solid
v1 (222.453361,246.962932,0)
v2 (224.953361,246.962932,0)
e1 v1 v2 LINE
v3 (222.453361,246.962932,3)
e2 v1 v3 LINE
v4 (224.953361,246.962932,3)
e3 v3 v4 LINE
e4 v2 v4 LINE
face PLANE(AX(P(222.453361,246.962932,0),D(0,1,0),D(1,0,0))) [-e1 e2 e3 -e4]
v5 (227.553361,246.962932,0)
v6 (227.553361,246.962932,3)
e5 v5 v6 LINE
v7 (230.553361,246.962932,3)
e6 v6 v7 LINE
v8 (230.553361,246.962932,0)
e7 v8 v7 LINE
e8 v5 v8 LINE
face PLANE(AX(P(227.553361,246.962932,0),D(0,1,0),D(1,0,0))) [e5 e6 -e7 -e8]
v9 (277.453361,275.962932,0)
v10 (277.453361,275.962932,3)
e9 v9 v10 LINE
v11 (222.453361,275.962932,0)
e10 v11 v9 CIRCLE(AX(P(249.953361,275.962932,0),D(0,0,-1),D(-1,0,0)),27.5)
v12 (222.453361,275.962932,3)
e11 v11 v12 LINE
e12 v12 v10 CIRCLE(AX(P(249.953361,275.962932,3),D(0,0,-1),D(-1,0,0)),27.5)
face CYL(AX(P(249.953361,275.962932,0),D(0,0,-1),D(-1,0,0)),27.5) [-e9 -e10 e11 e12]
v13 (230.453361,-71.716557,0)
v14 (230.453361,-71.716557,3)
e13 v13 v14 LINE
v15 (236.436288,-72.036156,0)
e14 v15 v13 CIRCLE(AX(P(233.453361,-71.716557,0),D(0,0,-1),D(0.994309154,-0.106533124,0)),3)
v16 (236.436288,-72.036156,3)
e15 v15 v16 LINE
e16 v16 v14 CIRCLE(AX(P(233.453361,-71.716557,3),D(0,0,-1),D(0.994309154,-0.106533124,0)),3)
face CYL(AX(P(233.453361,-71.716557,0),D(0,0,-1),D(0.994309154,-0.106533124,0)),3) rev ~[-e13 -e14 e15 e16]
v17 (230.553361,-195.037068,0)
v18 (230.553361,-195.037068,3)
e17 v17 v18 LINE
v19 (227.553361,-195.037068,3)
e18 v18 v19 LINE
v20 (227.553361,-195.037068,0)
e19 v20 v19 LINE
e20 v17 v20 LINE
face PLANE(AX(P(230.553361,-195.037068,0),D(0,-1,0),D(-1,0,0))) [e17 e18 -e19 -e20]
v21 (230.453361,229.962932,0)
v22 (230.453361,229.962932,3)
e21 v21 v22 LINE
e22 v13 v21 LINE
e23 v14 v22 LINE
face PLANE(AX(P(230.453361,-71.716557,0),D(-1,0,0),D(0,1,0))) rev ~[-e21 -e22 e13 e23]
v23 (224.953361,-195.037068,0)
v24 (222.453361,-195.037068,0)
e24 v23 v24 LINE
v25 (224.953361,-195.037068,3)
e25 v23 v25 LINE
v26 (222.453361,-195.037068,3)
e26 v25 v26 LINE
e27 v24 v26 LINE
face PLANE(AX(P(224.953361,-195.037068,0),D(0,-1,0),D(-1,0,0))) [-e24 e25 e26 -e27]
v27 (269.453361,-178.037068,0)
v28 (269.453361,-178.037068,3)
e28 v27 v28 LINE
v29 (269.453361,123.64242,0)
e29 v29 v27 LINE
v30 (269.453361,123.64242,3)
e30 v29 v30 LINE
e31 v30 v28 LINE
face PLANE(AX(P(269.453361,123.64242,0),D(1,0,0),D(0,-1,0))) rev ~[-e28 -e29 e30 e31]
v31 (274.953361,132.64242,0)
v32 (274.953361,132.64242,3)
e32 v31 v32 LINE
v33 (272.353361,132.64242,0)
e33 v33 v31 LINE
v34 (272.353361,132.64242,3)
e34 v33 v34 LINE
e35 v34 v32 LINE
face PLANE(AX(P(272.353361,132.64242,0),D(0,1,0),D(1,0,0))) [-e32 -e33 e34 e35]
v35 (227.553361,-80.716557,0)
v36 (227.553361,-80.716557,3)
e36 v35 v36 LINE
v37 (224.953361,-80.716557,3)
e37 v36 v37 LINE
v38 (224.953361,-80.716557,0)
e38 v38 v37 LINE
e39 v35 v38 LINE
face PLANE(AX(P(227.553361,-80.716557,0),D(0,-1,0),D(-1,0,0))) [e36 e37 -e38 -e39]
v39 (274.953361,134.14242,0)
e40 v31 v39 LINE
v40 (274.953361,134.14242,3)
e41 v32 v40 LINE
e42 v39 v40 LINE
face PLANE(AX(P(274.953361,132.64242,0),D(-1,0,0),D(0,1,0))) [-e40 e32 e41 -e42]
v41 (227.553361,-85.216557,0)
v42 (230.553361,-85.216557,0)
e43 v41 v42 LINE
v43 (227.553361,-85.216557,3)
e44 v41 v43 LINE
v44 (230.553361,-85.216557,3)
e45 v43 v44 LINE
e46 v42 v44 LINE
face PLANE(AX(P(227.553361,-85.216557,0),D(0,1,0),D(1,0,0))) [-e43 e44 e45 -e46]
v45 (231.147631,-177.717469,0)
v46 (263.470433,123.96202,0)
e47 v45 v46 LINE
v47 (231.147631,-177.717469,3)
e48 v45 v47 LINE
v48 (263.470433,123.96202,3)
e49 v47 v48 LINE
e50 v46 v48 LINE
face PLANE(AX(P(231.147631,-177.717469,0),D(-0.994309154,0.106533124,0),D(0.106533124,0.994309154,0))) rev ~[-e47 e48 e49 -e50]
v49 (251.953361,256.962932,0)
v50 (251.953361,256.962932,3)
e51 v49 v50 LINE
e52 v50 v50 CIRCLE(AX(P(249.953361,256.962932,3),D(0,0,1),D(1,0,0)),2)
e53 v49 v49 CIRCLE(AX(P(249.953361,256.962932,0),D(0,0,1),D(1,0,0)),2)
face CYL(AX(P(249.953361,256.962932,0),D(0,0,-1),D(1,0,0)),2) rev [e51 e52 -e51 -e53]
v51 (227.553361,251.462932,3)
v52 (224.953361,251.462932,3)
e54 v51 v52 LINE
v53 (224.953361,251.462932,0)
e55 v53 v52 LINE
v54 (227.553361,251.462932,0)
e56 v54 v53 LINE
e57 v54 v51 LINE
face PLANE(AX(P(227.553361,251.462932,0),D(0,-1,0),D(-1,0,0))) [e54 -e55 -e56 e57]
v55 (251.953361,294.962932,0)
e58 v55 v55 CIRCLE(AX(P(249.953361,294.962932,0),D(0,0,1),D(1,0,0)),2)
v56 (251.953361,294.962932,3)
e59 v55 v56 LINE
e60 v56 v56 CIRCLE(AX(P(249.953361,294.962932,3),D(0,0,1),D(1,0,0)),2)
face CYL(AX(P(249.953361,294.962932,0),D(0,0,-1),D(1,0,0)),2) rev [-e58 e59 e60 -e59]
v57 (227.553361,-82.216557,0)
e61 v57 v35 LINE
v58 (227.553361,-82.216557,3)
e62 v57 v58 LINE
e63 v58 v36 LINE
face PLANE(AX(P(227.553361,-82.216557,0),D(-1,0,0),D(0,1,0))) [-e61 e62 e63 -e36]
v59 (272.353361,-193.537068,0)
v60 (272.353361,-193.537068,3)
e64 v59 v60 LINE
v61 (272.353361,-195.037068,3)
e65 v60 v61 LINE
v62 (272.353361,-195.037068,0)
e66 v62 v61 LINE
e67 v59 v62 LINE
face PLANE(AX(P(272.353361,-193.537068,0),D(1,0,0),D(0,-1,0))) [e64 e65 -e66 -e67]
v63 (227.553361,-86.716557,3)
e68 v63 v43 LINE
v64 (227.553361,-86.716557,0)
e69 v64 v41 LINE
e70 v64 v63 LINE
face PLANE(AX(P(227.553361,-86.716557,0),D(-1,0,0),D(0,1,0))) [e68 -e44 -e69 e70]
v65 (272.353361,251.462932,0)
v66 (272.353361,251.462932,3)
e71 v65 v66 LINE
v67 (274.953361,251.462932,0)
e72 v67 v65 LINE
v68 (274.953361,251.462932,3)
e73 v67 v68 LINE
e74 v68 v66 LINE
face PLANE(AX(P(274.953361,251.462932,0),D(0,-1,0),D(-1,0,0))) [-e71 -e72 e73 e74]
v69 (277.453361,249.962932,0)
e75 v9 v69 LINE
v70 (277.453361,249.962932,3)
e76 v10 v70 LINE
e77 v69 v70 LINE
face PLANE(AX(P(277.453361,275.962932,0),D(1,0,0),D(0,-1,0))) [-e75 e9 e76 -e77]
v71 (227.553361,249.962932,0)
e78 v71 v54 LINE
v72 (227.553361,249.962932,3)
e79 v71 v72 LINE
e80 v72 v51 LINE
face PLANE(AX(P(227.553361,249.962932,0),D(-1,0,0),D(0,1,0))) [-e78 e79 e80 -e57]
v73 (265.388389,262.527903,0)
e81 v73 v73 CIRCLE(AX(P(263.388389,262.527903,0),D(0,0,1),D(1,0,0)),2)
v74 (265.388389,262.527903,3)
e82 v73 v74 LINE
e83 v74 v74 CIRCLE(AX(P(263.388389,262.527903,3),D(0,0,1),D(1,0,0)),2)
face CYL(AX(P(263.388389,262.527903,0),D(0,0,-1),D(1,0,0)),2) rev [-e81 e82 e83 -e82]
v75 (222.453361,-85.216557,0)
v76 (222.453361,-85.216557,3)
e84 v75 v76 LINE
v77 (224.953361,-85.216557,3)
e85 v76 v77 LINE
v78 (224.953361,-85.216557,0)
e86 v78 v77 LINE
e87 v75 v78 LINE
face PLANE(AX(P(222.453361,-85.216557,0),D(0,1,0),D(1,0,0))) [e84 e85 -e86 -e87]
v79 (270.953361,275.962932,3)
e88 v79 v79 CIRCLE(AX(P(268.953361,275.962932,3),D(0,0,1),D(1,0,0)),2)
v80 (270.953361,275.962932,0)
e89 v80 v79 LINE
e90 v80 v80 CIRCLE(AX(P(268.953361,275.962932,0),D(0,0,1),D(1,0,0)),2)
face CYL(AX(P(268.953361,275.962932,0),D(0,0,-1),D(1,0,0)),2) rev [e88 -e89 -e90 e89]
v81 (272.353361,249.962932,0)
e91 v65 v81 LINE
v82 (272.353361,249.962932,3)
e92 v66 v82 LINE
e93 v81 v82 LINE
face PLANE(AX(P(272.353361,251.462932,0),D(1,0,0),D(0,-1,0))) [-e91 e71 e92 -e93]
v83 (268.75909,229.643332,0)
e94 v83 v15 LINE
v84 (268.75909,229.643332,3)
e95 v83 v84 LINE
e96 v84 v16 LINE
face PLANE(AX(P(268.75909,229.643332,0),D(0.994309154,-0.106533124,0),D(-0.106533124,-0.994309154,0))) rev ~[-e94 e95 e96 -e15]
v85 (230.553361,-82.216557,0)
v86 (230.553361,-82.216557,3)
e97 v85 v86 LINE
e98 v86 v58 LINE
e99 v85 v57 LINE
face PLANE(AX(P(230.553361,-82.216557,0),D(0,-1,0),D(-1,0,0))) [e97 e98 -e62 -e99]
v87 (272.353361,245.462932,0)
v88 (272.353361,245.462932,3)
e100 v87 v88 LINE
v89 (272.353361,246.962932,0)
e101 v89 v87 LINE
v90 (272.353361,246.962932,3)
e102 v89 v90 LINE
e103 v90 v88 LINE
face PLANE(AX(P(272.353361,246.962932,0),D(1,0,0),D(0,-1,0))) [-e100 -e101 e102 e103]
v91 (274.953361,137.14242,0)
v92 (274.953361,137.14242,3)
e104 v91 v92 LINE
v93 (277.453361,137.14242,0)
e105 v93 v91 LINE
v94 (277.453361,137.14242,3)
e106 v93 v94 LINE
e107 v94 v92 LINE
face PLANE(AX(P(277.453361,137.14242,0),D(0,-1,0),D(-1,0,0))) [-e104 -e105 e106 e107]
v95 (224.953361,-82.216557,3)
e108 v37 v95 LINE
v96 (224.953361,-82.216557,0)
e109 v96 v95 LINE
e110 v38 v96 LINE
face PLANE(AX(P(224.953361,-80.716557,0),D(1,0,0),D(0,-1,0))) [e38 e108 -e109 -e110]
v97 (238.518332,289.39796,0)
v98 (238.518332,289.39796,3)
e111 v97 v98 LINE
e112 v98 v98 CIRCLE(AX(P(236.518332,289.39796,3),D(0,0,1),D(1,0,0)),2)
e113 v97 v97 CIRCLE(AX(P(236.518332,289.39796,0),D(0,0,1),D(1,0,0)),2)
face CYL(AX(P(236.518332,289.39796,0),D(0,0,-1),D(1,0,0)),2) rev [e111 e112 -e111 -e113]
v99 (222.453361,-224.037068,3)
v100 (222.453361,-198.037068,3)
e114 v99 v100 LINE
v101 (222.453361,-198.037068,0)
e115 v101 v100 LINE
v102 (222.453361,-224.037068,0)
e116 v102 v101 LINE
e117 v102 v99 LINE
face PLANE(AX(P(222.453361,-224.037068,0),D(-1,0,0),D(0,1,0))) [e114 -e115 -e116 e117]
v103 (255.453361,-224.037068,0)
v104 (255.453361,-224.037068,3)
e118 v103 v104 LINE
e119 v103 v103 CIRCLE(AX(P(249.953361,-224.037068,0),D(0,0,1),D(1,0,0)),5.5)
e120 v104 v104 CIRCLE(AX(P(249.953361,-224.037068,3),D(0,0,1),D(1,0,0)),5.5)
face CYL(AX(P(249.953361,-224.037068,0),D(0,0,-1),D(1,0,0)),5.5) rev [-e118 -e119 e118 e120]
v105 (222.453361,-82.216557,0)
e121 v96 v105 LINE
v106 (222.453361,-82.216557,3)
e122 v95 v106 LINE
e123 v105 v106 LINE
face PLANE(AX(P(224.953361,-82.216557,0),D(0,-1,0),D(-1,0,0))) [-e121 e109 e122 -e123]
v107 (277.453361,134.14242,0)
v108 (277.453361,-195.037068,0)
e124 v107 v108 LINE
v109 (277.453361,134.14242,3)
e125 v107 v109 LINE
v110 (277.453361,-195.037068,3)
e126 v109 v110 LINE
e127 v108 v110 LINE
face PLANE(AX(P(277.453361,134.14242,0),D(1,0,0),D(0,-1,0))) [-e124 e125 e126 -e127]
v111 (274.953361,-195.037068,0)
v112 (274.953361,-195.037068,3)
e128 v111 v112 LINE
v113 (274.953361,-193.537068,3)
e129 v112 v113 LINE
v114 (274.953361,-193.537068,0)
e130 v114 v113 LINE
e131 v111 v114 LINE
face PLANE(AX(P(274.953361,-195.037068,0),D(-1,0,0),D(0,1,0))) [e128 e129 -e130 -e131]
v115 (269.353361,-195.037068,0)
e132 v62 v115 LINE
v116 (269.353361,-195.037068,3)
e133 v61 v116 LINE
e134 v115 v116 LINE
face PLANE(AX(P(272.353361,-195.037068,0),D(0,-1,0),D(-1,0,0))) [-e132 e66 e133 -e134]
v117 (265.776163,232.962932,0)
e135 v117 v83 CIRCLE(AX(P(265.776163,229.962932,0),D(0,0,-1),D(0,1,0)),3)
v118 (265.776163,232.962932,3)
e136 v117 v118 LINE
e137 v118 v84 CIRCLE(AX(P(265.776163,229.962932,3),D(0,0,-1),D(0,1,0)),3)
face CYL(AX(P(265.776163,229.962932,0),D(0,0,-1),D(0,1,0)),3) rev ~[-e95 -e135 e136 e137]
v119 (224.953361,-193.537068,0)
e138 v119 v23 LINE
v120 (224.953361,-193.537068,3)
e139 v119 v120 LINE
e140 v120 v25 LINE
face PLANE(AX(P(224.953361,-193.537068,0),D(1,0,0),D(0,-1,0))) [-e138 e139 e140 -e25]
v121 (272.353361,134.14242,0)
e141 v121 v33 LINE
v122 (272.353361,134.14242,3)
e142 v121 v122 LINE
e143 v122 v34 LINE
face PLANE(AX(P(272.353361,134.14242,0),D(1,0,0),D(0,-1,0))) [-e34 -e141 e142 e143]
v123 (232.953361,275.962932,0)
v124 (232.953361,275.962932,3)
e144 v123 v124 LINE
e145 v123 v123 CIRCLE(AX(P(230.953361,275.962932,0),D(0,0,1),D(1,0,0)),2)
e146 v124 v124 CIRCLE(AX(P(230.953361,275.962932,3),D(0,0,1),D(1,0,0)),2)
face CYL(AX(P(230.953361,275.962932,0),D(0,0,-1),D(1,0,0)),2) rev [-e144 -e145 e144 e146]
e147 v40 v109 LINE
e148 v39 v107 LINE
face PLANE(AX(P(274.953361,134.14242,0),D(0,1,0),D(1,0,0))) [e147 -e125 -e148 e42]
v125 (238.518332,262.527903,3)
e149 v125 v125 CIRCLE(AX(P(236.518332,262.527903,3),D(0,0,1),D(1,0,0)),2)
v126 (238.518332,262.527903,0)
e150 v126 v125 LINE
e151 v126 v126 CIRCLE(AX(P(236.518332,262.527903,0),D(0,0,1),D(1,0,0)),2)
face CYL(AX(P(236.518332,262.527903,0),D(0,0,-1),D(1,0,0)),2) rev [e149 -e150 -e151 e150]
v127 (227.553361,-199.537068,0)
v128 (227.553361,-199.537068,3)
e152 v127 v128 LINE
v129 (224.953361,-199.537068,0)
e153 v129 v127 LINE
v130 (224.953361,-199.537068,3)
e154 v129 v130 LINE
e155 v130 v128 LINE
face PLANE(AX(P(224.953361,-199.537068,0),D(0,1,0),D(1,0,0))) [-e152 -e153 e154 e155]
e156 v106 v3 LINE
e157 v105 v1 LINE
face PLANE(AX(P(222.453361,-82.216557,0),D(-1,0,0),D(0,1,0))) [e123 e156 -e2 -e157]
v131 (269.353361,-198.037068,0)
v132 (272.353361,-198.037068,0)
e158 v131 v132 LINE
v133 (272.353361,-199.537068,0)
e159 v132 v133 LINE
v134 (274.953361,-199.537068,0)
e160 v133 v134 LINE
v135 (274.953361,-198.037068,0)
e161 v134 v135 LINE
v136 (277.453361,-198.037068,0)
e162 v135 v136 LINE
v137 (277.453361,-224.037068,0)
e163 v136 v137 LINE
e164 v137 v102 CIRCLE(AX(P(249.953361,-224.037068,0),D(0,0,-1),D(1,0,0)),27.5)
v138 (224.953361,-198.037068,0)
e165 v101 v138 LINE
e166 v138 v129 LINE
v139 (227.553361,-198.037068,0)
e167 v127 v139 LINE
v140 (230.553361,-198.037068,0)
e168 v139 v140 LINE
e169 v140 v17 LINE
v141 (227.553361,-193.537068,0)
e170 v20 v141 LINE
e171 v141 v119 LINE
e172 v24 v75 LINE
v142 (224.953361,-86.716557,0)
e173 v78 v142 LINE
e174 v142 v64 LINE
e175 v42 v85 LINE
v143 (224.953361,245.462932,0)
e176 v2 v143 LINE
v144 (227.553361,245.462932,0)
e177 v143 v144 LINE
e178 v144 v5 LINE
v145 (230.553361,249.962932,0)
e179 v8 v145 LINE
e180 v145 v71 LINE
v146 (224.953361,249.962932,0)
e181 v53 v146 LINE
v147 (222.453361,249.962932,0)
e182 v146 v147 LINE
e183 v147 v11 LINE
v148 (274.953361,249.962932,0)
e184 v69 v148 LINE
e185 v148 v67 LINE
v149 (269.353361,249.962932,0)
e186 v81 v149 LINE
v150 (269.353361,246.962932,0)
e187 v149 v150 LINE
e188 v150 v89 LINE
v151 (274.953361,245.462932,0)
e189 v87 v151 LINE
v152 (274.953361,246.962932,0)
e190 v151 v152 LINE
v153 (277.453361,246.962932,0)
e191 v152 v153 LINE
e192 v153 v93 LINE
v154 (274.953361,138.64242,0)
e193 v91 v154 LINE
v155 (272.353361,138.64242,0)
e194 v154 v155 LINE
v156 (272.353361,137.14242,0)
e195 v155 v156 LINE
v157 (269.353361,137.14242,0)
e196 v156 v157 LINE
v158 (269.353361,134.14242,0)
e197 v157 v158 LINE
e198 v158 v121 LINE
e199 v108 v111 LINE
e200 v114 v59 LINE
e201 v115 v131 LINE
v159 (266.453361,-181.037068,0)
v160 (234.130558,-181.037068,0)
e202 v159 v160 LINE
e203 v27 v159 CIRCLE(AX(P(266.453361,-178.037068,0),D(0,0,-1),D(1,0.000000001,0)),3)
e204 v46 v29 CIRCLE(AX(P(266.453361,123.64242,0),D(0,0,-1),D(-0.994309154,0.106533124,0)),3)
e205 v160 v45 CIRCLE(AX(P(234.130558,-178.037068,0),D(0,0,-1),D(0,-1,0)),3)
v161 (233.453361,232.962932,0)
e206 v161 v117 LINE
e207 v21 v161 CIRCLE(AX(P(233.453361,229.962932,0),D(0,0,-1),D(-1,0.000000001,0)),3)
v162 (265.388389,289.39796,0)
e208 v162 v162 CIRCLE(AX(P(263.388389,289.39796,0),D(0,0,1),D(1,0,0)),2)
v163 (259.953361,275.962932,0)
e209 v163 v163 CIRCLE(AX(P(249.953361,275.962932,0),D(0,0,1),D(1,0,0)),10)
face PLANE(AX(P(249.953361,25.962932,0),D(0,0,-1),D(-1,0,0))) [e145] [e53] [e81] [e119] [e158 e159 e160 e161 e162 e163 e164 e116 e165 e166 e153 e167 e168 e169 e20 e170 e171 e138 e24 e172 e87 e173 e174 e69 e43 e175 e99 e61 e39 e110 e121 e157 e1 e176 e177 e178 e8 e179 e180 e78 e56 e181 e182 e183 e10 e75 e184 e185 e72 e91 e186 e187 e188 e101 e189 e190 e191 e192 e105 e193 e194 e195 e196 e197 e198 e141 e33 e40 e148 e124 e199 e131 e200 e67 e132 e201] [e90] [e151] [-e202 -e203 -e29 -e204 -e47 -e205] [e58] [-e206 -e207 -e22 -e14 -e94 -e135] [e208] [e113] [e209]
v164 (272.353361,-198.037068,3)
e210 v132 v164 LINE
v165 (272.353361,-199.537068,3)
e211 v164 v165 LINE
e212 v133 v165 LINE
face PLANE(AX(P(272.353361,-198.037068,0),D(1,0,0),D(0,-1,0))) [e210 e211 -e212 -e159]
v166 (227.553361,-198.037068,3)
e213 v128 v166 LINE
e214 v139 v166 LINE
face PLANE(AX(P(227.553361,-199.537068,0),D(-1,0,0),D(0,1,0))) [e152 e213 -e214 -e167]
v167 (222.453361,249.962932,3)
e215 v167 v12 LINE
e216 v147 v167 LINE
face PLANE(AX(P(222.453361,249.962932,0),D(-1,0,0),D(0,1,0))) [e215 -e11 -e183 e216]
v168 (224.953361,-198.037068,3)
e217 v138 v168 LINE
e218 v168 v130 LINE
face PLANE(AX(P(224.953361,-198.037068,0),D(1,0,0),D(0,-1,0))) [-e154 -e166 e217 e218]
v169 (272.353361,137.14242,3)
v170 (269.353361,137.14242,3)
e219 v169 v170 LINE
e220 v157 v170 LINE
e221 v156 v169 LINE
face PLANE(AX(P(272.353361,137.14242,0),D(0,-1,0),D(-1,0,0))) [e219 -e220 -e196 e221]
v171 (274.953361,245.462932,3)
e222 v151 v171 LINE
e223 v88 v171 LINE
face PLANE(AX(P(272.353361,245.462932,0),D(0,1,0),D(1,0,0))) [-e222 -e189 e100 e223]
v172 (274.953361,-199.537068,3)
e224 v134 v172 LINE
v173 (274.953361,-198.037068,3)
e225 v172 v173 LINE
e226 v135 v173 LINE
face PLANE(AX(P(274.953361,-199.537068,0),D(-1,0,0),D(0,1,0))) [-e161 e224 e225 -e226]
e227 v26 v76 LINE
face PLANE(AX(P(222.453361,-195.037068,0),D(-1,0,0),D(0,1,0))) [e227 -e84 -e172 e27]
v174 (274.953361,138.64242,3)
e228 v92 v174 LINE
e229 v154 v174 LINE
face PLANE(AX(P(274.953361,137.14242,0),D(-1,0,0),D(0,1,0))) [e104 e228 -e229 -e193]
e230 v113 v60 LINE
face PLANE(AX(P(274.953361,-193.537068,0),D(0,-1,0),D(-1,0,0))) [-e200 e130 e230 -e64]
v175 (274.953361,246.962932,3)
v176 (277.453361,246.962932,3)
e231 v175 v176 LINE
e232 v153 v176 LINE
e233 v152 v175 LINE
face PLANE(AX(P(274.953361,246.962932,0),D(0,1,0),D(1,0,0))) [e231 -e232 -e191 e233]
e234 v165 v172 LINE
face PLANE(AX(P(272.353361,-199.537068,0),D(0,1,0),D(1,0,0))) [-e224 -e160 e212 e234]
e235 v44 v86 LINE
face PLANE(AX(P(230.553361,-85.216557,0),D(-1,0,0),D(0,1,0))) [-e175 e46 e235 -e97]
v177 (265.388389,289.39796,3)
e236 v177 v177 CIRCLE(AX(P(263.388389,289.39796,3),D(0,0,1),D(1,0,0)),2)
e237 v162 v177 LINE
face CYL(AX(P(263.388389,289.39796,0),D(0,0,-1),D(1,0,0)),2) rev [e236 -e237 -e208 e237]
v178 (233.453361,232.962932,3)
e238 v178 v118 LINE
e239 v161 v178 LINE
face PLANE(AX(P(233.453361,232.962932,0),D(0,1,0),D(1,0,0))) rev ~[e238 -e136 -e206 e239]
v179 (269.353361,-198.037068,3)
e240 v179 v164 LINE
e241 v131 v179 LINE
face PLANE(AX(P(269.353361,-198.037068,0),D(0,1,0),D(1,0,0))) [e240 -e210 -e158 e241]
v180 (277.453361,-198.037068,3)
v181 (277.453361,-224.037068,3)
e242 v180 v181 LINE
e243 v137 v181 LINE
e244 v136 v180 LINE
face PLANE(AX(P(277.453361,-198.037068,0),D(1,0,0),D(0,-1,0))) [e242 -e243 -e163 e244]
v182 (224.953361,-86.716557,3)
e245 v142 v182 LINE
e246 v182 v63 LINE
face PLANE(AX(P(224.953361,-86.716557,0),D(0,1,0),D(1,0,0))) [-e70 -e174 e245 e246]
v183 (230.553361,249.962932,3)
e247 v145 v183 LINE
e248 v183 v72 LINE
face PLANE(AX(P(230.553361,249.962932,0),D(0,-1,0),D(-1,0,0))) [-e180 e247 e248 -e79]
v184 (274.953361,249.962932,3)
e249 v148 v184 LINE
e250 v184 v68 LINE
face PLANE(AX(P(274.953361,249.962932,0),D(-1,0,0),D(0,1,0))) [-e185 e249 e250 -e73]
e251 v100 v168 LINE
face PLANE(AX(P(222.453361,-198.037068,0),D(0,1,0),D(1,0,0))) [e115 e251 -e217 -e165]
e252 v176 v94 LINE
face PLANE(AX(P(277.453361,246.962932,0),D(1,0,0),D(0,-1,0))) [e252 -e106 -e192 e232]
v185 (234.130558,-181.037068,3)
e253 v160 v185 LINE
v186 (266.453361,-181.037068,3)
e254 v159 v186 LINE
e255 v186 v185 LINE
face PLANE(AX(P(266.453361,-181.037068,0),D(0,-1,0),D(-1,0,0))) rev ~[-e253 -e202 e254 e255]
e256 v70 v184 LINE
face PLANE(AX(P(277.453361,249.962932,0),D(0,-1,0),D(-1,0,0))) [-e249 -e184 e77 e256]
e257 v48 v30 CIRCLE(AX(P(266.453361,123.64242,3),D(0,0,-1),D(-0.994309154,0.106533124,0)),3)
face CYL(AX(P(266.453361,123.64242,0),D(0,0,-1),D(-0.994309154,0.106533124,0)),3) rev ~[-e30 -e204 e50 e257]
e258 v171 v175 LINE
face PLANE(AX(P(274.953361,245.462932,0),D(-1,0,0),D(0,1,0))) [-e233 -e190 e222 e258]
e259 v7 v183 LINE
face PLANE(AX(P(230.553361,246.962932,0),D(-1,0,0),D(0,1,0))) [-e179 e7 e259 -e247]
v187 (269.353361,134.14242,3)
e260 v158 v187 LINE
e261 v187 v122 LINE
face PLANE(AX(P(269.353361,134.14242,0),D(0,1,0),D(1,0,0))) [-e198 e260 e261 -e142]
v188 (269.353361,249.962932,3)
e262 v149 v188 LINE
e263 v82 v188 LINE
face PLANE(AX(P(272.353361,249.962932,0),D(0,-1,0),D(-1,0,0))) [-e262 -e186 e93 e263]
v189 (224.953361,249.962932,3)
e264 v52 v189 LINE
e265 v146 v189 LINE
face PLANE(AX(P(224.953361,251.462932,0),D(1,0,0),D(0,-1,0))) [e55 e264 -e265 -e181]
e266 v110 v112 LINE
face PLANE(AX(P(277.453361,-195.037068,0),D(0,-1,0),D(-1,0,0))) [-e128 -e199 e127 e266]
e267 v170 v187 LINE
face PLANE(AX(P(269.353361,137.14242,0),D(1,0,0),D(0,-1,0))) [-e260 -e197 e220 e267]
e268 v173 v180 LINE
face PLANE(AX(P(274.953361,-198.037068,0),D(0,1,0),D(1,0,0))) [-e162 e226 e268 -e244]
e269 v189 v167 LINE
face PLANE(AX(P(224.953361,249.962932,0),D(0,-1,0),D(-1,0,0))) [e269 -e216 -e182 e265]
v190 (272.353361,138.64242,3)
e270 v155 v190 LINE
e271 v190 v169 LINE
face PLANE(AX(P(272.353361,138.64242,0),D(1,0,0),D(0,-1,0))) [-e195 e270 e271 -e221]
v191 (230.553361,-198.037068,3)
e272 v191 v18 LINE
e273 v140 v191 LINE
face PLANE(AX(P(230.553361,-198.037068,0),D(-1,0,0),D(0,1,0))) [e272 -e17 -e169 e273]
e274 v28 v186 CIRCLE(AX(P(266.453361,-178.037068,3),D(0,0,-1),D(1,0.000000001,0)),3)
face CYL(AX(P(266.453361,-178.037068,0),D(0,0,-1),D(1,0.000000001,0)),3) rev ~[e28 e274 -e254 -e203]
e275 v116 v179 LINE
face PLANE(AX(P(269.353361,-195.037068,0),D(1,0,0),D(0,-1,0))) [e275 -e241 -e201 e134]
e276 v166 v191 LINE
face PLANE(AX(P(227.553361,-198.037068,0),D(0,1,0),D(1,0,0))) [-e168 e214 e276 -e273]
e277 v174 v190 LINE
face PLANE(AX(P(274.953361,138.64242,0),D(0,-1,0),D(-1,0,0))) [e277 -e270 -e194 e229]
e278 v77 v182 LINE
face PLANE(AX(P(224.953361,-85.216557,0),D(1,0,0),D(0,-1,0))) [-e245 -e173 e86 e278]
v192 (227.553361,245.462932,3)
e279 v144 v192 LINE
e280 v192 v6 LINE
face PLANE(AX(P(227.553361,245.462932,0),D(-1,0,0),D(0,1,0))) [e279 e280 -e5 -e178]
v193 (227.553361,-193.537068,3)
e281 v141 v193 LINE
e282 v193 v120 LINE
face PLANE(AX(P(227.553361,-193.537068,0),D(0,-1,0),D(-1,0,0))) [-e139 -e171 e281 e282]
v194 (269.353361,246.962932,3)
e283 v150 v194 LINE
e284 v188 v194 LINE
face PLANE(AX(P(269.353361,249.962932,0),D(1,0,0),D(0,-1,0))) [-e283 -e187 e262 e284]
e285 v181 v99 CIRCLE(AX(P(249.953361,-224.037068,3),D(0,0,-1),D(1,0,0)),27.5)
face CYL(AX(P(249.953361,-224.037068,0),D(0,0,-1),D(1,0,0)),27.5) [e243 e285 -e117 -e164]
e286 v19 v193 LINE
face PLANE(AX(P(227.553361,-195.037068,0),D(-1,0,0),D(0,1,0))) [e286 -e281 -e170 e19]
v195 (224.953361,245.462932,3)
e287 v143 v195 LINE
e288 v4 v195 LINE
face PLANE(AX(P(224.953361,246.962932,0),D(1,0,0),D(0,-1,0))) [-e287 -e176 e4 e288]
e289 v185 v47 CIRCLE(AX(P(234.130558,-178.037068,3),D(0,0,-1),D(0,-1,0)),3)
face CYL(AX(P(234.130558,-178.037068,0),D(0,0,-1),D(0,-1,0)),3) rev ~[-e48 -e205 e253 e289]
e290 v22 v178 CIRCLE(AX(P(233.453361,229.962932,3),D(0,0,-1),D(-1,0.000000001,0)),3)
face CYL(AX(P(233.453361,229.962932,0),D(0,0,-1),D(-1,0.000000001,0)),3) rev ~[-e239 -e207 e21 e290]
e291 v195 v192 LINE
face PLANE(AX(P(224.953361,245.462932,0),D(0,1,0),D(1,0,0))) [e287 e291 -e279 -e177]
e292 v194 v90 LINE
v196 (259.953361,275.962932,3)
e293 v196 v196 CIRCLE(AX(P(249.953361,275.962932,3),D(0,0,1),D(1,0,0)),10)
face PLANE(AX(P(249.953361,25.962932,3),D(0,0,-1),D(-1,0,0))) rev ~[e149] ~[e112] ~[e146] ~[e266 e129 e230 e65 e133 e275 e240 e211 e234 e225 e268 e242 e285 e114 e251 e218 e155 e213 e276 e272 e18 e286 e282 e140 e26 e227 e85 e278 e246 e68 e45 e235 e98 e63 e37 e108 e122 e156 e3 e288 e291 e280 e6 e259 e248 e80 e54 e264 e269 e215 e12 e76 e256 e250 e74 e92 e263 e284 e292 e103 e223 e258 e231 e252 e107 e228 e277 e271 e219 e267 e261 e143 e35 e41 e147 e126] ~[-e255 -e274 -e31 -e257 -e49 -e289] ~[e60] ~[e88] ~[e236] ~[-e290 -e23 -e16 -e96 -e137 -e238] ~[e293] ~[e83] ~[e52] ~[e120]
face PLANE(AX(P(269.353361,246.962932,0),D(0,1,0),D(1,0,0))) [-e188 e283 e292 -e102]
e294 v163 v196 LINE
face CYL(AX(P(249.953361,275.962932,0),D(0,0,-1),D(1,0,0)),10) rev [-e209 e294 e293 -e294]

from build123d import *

# Parameters (mm, degrees)
SKETCH_1_R      = 10
SKETCH_1_R_2    = 2
SKETCH_1_R_3    = 5.5
EXTRUDE_1_DEPTH = 3


with BuildPart() as part:
    # 草图1 → 凸台-拉伸1 (new body)
    with BuildSketch(Plane.XY):
        with BuildLine():
            Line((224.953360513, -85.216557036), (224.953360513, -86.716557036))
            Line((224.953360513, -86.716557036), (227.553360513, -86.716557036))
            Line((227.553360513, -86.716557036), (227.553360513, -85.216557036))
            Line((227.553360513, -85.216557036), (230.553360513, -85.216557036))
            Line((230.553360513, -85.216557036), (230.553360513, -82.216557036))
            Line((230.553360513, -82.216557036), (227.553360513, -82.216557036))
            Line((227.553360513, -82.216557036), (227.553360513, -80.716557036))
            Line((227.553360513, -80.716557036), (224.953360513, -80.716557036))
            Line((224.953360513, -80.716557036), (224.953360513, -82.216557036))
            Line((224.953360513, -82.216557036), (222.453360513, -82.216557036))
            Line((222.453360513, -82.216557036), (222.453360513, 246.962931603))
            Line((222.453360513, 246.962931603), (224.953360513, 246.962931603))
            Line((224.953360513, 246.962931603), (224.953360513, 245.462931603))
            Line((224.953360513, 245.462931603), (227.553360513, 245.462931603))
            Line((227.553360513, 245.462931603), (227.553360513, 246.962931603))
            Line((227.553360513, 246.962931603), (230.553360513, 246.962931603))
            Line((230.553360513, 246.962931603), (230.553360513, 249.962931603))
            Line((230.553360513, 249.962931603), (227.553360513, 249.962931603))
            Line((227.553360513, 249.962931603), (227.553360513, 251.462931603))
            Line((227.553360513, 251.462931603), (224.953360513, 251.462931603))
            Line((224.953360513, 251.462931603), (224.953360513, 249.962931603))
            Line((224.953360513, 249.962931603), (222.453360513, 249.962931603))
            Line((222.453360513, 249.962931603), (222.453360513, 275.962931603))
            ThreePointArc((222.453360513, 275.962931603), (249.953360513, 303.462931603), (277.453360513, 275.962931603))
            Line((277.453360513, 275.962931603), (277.453360513, 249.962931603))
            Line((277.453360513, 249.962931603), (274.953360513, 249.962931603))
            Line((274.953360513, 249.962931603), (274.953360513, 251.462931603))
            Line((274.953360513, 251.462931603), (272.353360513, 251.462931603))
            Line((272.353360513, 251.462931603), (272.353360513, 249.962931603))
            Line((272.353360513, 249.962931603), (269.353360513, 249.962931603))
            Line((269.353360513, 249.962931603), (269.353360513, 246.962931603))
            Line((269.353360513, 246.962931603), (272.353360513, 246.962931603))
            Line((272.353360513, 246.962931603), (272.353360513, 245.462931603))
            Line((272.353360513, 245.462931603), (274.953360513, 245.462931603))
            Line((274.953360513, 245.462931603), (274.953360513, 246.962931603))
            Line((274.953360513, 246.962931603), (277.453360513, 246.962931603))
            Line((277.453360513, 246.962931603), (277.453360513, 137.142420241))
            Line((277.453360513, 137.142420241), (274.953360513, 137.142420241))
            Line((274.953360513, 137.142420241), (274.953360513, 138.642420241))
            Line((274.953360513, 138.642420241), (272.353360513, 138.642420241))
            Line((272.353360513, 138.642420241), (272.353360513, 137.142420241))
            Line((272.353360513, 137.142420241), (269.353360513, 137.142420241))
            Line((269.353360513, 137.142420241), (269.353360513, 134.142420241))
            Line((269.353360513, 134.142420241), (272.353360513, 134.142420241))
            Line((272.353360513, 134.142420241), (272.353360513, 132.642420241))
            Line((272.353360513, 132.642420241), (274.953360513, 132.642420241))
            Line((274.953360513, 132.642420241), (274.953360513, 134.142420241))
            Line((274.953360513, 134.142420241), (277.453360513, 134.142420241))
            Line((277.453360513, 134.142420241), (277.453360513, -195.037068397))
            Line((277.453360513, -195.037068397), (274.953360513, -195.037068397))
            Line((274.953360513, -195.037068397), (274.953360513, -193.537068397))
            Line((274.953360513, -193.537068397), (272.353360513, -193.537068397))
            Line((272.353360513, -193.537068397), (272.353360513, -195.037068397))
            Line((272.353360513, -195.037068397), (269.353360513, -195.037068397))
            Line((269.353360513, -195.037068397), (269.353360513, -198.037068397))
            Line((269.353360513, -198.037068397), (272.353360513, -198.037068397))
            Line((272.353360513, -198.037068397), (272.353360513, -199.537068397))
            Line((272.353360513, -199.537068397), (274.953360513, -199.537068397))
            Line((274.953360513, -199.537068397), (274.953360513, -198.037068397))
            Line((274.953360513, -198.037068397), (277.453360513, -198.037068397))
            Line((277.453360513, -198.037068397), (277.453360513, -224.037068397))
            ThreePointArc((277.453360513, -224.037068397), (249.953360513, -251.537068397), (222.453360513, -224.037068397))
            Line((222.453360513, -224.037068397), (222.453360513, -198.037068397))
            Line((222.453360513, -198.037068397), (224.953360513, -198.037068397))
            Line((224.953360513, -198.037068397), (224.953360513, -199.537068397))
            Line((224.953360513, -199.537068397), (227.553360513, -199.537068397))
            Line((227.553360513, -199.537068397), (227.553360513, -198.037068397))
            Line((227.553360513, -198.037068397), (230.553360513, -198.037068397))
            Line((230.553360513, -198.037068397), (230.553360513, -195.037068397))
            Line((230.553360513, -195.037068397), (227.553360513, -195.037068397))
            Line((227.553360513, -195.037068397), (227.553360513, -193.537068397))
            Line((227.553360513, -193.537068397), (224.953360513, -193.537068397))
            Line((224.953360513, -193.537068397), (224.953360513, -195.037068397))
            Line((224.953360513, -195.037068397), (222.453360513, -195.037068397))
            Line((222.453360513, -195.037068397), (222.453360513, -85.216557036))
            Line((222.453360513, -85.216557036), (224.953360513, -85.216557036))
        make_face()
        with Locations((249.953360513, 275.962931603)):
            Circle(SKETCH_1_R, mode=Mode.SUBTRACT)
        with Locations((230.953360513, 275.962931603)):
            Circle(SKETCH_1_R_2, mode=Mode.SUBTRACT)
        with Locations((236.518331671, 289.397960445)):
            Circle(SKETCH_1_R_2, mode=Mode.SUBTRACT)
        with Locations((249.953360513, 294.962931603)):
            Circle(SKETCH_1_R_2, mode=Mode.SUBTRACT)
        with Locations((263.388389356, 289.397960445)):
            Circle(SKETCH_1_R_2, mode=Mode.SUBTRACT)
        with Locations((268.953360513, 275.962931603)):
            Circle(SKETCH_1_R_2, mode=Mode.SUBTRACT)
        with Locations((263.388389356, 262.52790276)):
            Circle(SKETCH_1_R_2, mode=Mode.SUBTRACT)
        with Locations((249.953360513, 256.962931603)):
            Circle(SKETCH_1_R_2, mode=Mode.SUBTRACT)
        with Locations((236.518331671, 262.52790276)):
            Circle(SKETCH_1_R_2, mode=Mode.SUBTRACT)
        with Locations((249.953360513, -224.037068397)):
            Circle(SKETCH_1_R_3, mode=Mode.SUBTRACT)
        with BuildLine():
            Line((233.453360513, 232.962931603), (265.776162867, 232.962931603))
            ThreePointArc((265.776162867, 232.962931603), (268.007619579, 231.968075224), (268.759090329, 229.643332232))
            Line((268.759090329, 229.643332232), (236.436287975, -72.036156407))
            ThreePointArc((236.436287975, -72.036156407), (233.293332993, -74.712285861), (230.453360513, -71.716557036))
            Line((230.453360513, -71.716557036), (230.453360513, 229.962931603))
            ThreePointArc((230.453360513, 229.962931603), (231.33204017, 232.084251946), (233.453360513, 232.962931603))
        make_face(mode=Mode.SUBTRACT)
        with BuildLine():
            Line((269.453360513, 123.642420241), (269.453360513, -178.037068397))
            ThreePointArc((269.453360513, -178.037068397), (268.574680857, -180.158388741), (266.453360513, -181.037068397))
            Line((266.453360513, -181.037068397), (234.130558159, -181.037068397))
            ThreePointArc((234.130558159, -181.037068397), (231.899101447, -180.042212019), (231.147630697, -177.717469026))
            Line((231.147630697, -177.717469026), (263.470433052, 123.962019612))
            ThreePointArc((263.470433052, 123.962019612), (266.613388034, 126.638149066), (269.453360513, 123.642420241))
        make_face(mode=Mode.SUBTRACT)
    extrude(amount=EXTRUDE_1_DEPTH)


solid = part.part
